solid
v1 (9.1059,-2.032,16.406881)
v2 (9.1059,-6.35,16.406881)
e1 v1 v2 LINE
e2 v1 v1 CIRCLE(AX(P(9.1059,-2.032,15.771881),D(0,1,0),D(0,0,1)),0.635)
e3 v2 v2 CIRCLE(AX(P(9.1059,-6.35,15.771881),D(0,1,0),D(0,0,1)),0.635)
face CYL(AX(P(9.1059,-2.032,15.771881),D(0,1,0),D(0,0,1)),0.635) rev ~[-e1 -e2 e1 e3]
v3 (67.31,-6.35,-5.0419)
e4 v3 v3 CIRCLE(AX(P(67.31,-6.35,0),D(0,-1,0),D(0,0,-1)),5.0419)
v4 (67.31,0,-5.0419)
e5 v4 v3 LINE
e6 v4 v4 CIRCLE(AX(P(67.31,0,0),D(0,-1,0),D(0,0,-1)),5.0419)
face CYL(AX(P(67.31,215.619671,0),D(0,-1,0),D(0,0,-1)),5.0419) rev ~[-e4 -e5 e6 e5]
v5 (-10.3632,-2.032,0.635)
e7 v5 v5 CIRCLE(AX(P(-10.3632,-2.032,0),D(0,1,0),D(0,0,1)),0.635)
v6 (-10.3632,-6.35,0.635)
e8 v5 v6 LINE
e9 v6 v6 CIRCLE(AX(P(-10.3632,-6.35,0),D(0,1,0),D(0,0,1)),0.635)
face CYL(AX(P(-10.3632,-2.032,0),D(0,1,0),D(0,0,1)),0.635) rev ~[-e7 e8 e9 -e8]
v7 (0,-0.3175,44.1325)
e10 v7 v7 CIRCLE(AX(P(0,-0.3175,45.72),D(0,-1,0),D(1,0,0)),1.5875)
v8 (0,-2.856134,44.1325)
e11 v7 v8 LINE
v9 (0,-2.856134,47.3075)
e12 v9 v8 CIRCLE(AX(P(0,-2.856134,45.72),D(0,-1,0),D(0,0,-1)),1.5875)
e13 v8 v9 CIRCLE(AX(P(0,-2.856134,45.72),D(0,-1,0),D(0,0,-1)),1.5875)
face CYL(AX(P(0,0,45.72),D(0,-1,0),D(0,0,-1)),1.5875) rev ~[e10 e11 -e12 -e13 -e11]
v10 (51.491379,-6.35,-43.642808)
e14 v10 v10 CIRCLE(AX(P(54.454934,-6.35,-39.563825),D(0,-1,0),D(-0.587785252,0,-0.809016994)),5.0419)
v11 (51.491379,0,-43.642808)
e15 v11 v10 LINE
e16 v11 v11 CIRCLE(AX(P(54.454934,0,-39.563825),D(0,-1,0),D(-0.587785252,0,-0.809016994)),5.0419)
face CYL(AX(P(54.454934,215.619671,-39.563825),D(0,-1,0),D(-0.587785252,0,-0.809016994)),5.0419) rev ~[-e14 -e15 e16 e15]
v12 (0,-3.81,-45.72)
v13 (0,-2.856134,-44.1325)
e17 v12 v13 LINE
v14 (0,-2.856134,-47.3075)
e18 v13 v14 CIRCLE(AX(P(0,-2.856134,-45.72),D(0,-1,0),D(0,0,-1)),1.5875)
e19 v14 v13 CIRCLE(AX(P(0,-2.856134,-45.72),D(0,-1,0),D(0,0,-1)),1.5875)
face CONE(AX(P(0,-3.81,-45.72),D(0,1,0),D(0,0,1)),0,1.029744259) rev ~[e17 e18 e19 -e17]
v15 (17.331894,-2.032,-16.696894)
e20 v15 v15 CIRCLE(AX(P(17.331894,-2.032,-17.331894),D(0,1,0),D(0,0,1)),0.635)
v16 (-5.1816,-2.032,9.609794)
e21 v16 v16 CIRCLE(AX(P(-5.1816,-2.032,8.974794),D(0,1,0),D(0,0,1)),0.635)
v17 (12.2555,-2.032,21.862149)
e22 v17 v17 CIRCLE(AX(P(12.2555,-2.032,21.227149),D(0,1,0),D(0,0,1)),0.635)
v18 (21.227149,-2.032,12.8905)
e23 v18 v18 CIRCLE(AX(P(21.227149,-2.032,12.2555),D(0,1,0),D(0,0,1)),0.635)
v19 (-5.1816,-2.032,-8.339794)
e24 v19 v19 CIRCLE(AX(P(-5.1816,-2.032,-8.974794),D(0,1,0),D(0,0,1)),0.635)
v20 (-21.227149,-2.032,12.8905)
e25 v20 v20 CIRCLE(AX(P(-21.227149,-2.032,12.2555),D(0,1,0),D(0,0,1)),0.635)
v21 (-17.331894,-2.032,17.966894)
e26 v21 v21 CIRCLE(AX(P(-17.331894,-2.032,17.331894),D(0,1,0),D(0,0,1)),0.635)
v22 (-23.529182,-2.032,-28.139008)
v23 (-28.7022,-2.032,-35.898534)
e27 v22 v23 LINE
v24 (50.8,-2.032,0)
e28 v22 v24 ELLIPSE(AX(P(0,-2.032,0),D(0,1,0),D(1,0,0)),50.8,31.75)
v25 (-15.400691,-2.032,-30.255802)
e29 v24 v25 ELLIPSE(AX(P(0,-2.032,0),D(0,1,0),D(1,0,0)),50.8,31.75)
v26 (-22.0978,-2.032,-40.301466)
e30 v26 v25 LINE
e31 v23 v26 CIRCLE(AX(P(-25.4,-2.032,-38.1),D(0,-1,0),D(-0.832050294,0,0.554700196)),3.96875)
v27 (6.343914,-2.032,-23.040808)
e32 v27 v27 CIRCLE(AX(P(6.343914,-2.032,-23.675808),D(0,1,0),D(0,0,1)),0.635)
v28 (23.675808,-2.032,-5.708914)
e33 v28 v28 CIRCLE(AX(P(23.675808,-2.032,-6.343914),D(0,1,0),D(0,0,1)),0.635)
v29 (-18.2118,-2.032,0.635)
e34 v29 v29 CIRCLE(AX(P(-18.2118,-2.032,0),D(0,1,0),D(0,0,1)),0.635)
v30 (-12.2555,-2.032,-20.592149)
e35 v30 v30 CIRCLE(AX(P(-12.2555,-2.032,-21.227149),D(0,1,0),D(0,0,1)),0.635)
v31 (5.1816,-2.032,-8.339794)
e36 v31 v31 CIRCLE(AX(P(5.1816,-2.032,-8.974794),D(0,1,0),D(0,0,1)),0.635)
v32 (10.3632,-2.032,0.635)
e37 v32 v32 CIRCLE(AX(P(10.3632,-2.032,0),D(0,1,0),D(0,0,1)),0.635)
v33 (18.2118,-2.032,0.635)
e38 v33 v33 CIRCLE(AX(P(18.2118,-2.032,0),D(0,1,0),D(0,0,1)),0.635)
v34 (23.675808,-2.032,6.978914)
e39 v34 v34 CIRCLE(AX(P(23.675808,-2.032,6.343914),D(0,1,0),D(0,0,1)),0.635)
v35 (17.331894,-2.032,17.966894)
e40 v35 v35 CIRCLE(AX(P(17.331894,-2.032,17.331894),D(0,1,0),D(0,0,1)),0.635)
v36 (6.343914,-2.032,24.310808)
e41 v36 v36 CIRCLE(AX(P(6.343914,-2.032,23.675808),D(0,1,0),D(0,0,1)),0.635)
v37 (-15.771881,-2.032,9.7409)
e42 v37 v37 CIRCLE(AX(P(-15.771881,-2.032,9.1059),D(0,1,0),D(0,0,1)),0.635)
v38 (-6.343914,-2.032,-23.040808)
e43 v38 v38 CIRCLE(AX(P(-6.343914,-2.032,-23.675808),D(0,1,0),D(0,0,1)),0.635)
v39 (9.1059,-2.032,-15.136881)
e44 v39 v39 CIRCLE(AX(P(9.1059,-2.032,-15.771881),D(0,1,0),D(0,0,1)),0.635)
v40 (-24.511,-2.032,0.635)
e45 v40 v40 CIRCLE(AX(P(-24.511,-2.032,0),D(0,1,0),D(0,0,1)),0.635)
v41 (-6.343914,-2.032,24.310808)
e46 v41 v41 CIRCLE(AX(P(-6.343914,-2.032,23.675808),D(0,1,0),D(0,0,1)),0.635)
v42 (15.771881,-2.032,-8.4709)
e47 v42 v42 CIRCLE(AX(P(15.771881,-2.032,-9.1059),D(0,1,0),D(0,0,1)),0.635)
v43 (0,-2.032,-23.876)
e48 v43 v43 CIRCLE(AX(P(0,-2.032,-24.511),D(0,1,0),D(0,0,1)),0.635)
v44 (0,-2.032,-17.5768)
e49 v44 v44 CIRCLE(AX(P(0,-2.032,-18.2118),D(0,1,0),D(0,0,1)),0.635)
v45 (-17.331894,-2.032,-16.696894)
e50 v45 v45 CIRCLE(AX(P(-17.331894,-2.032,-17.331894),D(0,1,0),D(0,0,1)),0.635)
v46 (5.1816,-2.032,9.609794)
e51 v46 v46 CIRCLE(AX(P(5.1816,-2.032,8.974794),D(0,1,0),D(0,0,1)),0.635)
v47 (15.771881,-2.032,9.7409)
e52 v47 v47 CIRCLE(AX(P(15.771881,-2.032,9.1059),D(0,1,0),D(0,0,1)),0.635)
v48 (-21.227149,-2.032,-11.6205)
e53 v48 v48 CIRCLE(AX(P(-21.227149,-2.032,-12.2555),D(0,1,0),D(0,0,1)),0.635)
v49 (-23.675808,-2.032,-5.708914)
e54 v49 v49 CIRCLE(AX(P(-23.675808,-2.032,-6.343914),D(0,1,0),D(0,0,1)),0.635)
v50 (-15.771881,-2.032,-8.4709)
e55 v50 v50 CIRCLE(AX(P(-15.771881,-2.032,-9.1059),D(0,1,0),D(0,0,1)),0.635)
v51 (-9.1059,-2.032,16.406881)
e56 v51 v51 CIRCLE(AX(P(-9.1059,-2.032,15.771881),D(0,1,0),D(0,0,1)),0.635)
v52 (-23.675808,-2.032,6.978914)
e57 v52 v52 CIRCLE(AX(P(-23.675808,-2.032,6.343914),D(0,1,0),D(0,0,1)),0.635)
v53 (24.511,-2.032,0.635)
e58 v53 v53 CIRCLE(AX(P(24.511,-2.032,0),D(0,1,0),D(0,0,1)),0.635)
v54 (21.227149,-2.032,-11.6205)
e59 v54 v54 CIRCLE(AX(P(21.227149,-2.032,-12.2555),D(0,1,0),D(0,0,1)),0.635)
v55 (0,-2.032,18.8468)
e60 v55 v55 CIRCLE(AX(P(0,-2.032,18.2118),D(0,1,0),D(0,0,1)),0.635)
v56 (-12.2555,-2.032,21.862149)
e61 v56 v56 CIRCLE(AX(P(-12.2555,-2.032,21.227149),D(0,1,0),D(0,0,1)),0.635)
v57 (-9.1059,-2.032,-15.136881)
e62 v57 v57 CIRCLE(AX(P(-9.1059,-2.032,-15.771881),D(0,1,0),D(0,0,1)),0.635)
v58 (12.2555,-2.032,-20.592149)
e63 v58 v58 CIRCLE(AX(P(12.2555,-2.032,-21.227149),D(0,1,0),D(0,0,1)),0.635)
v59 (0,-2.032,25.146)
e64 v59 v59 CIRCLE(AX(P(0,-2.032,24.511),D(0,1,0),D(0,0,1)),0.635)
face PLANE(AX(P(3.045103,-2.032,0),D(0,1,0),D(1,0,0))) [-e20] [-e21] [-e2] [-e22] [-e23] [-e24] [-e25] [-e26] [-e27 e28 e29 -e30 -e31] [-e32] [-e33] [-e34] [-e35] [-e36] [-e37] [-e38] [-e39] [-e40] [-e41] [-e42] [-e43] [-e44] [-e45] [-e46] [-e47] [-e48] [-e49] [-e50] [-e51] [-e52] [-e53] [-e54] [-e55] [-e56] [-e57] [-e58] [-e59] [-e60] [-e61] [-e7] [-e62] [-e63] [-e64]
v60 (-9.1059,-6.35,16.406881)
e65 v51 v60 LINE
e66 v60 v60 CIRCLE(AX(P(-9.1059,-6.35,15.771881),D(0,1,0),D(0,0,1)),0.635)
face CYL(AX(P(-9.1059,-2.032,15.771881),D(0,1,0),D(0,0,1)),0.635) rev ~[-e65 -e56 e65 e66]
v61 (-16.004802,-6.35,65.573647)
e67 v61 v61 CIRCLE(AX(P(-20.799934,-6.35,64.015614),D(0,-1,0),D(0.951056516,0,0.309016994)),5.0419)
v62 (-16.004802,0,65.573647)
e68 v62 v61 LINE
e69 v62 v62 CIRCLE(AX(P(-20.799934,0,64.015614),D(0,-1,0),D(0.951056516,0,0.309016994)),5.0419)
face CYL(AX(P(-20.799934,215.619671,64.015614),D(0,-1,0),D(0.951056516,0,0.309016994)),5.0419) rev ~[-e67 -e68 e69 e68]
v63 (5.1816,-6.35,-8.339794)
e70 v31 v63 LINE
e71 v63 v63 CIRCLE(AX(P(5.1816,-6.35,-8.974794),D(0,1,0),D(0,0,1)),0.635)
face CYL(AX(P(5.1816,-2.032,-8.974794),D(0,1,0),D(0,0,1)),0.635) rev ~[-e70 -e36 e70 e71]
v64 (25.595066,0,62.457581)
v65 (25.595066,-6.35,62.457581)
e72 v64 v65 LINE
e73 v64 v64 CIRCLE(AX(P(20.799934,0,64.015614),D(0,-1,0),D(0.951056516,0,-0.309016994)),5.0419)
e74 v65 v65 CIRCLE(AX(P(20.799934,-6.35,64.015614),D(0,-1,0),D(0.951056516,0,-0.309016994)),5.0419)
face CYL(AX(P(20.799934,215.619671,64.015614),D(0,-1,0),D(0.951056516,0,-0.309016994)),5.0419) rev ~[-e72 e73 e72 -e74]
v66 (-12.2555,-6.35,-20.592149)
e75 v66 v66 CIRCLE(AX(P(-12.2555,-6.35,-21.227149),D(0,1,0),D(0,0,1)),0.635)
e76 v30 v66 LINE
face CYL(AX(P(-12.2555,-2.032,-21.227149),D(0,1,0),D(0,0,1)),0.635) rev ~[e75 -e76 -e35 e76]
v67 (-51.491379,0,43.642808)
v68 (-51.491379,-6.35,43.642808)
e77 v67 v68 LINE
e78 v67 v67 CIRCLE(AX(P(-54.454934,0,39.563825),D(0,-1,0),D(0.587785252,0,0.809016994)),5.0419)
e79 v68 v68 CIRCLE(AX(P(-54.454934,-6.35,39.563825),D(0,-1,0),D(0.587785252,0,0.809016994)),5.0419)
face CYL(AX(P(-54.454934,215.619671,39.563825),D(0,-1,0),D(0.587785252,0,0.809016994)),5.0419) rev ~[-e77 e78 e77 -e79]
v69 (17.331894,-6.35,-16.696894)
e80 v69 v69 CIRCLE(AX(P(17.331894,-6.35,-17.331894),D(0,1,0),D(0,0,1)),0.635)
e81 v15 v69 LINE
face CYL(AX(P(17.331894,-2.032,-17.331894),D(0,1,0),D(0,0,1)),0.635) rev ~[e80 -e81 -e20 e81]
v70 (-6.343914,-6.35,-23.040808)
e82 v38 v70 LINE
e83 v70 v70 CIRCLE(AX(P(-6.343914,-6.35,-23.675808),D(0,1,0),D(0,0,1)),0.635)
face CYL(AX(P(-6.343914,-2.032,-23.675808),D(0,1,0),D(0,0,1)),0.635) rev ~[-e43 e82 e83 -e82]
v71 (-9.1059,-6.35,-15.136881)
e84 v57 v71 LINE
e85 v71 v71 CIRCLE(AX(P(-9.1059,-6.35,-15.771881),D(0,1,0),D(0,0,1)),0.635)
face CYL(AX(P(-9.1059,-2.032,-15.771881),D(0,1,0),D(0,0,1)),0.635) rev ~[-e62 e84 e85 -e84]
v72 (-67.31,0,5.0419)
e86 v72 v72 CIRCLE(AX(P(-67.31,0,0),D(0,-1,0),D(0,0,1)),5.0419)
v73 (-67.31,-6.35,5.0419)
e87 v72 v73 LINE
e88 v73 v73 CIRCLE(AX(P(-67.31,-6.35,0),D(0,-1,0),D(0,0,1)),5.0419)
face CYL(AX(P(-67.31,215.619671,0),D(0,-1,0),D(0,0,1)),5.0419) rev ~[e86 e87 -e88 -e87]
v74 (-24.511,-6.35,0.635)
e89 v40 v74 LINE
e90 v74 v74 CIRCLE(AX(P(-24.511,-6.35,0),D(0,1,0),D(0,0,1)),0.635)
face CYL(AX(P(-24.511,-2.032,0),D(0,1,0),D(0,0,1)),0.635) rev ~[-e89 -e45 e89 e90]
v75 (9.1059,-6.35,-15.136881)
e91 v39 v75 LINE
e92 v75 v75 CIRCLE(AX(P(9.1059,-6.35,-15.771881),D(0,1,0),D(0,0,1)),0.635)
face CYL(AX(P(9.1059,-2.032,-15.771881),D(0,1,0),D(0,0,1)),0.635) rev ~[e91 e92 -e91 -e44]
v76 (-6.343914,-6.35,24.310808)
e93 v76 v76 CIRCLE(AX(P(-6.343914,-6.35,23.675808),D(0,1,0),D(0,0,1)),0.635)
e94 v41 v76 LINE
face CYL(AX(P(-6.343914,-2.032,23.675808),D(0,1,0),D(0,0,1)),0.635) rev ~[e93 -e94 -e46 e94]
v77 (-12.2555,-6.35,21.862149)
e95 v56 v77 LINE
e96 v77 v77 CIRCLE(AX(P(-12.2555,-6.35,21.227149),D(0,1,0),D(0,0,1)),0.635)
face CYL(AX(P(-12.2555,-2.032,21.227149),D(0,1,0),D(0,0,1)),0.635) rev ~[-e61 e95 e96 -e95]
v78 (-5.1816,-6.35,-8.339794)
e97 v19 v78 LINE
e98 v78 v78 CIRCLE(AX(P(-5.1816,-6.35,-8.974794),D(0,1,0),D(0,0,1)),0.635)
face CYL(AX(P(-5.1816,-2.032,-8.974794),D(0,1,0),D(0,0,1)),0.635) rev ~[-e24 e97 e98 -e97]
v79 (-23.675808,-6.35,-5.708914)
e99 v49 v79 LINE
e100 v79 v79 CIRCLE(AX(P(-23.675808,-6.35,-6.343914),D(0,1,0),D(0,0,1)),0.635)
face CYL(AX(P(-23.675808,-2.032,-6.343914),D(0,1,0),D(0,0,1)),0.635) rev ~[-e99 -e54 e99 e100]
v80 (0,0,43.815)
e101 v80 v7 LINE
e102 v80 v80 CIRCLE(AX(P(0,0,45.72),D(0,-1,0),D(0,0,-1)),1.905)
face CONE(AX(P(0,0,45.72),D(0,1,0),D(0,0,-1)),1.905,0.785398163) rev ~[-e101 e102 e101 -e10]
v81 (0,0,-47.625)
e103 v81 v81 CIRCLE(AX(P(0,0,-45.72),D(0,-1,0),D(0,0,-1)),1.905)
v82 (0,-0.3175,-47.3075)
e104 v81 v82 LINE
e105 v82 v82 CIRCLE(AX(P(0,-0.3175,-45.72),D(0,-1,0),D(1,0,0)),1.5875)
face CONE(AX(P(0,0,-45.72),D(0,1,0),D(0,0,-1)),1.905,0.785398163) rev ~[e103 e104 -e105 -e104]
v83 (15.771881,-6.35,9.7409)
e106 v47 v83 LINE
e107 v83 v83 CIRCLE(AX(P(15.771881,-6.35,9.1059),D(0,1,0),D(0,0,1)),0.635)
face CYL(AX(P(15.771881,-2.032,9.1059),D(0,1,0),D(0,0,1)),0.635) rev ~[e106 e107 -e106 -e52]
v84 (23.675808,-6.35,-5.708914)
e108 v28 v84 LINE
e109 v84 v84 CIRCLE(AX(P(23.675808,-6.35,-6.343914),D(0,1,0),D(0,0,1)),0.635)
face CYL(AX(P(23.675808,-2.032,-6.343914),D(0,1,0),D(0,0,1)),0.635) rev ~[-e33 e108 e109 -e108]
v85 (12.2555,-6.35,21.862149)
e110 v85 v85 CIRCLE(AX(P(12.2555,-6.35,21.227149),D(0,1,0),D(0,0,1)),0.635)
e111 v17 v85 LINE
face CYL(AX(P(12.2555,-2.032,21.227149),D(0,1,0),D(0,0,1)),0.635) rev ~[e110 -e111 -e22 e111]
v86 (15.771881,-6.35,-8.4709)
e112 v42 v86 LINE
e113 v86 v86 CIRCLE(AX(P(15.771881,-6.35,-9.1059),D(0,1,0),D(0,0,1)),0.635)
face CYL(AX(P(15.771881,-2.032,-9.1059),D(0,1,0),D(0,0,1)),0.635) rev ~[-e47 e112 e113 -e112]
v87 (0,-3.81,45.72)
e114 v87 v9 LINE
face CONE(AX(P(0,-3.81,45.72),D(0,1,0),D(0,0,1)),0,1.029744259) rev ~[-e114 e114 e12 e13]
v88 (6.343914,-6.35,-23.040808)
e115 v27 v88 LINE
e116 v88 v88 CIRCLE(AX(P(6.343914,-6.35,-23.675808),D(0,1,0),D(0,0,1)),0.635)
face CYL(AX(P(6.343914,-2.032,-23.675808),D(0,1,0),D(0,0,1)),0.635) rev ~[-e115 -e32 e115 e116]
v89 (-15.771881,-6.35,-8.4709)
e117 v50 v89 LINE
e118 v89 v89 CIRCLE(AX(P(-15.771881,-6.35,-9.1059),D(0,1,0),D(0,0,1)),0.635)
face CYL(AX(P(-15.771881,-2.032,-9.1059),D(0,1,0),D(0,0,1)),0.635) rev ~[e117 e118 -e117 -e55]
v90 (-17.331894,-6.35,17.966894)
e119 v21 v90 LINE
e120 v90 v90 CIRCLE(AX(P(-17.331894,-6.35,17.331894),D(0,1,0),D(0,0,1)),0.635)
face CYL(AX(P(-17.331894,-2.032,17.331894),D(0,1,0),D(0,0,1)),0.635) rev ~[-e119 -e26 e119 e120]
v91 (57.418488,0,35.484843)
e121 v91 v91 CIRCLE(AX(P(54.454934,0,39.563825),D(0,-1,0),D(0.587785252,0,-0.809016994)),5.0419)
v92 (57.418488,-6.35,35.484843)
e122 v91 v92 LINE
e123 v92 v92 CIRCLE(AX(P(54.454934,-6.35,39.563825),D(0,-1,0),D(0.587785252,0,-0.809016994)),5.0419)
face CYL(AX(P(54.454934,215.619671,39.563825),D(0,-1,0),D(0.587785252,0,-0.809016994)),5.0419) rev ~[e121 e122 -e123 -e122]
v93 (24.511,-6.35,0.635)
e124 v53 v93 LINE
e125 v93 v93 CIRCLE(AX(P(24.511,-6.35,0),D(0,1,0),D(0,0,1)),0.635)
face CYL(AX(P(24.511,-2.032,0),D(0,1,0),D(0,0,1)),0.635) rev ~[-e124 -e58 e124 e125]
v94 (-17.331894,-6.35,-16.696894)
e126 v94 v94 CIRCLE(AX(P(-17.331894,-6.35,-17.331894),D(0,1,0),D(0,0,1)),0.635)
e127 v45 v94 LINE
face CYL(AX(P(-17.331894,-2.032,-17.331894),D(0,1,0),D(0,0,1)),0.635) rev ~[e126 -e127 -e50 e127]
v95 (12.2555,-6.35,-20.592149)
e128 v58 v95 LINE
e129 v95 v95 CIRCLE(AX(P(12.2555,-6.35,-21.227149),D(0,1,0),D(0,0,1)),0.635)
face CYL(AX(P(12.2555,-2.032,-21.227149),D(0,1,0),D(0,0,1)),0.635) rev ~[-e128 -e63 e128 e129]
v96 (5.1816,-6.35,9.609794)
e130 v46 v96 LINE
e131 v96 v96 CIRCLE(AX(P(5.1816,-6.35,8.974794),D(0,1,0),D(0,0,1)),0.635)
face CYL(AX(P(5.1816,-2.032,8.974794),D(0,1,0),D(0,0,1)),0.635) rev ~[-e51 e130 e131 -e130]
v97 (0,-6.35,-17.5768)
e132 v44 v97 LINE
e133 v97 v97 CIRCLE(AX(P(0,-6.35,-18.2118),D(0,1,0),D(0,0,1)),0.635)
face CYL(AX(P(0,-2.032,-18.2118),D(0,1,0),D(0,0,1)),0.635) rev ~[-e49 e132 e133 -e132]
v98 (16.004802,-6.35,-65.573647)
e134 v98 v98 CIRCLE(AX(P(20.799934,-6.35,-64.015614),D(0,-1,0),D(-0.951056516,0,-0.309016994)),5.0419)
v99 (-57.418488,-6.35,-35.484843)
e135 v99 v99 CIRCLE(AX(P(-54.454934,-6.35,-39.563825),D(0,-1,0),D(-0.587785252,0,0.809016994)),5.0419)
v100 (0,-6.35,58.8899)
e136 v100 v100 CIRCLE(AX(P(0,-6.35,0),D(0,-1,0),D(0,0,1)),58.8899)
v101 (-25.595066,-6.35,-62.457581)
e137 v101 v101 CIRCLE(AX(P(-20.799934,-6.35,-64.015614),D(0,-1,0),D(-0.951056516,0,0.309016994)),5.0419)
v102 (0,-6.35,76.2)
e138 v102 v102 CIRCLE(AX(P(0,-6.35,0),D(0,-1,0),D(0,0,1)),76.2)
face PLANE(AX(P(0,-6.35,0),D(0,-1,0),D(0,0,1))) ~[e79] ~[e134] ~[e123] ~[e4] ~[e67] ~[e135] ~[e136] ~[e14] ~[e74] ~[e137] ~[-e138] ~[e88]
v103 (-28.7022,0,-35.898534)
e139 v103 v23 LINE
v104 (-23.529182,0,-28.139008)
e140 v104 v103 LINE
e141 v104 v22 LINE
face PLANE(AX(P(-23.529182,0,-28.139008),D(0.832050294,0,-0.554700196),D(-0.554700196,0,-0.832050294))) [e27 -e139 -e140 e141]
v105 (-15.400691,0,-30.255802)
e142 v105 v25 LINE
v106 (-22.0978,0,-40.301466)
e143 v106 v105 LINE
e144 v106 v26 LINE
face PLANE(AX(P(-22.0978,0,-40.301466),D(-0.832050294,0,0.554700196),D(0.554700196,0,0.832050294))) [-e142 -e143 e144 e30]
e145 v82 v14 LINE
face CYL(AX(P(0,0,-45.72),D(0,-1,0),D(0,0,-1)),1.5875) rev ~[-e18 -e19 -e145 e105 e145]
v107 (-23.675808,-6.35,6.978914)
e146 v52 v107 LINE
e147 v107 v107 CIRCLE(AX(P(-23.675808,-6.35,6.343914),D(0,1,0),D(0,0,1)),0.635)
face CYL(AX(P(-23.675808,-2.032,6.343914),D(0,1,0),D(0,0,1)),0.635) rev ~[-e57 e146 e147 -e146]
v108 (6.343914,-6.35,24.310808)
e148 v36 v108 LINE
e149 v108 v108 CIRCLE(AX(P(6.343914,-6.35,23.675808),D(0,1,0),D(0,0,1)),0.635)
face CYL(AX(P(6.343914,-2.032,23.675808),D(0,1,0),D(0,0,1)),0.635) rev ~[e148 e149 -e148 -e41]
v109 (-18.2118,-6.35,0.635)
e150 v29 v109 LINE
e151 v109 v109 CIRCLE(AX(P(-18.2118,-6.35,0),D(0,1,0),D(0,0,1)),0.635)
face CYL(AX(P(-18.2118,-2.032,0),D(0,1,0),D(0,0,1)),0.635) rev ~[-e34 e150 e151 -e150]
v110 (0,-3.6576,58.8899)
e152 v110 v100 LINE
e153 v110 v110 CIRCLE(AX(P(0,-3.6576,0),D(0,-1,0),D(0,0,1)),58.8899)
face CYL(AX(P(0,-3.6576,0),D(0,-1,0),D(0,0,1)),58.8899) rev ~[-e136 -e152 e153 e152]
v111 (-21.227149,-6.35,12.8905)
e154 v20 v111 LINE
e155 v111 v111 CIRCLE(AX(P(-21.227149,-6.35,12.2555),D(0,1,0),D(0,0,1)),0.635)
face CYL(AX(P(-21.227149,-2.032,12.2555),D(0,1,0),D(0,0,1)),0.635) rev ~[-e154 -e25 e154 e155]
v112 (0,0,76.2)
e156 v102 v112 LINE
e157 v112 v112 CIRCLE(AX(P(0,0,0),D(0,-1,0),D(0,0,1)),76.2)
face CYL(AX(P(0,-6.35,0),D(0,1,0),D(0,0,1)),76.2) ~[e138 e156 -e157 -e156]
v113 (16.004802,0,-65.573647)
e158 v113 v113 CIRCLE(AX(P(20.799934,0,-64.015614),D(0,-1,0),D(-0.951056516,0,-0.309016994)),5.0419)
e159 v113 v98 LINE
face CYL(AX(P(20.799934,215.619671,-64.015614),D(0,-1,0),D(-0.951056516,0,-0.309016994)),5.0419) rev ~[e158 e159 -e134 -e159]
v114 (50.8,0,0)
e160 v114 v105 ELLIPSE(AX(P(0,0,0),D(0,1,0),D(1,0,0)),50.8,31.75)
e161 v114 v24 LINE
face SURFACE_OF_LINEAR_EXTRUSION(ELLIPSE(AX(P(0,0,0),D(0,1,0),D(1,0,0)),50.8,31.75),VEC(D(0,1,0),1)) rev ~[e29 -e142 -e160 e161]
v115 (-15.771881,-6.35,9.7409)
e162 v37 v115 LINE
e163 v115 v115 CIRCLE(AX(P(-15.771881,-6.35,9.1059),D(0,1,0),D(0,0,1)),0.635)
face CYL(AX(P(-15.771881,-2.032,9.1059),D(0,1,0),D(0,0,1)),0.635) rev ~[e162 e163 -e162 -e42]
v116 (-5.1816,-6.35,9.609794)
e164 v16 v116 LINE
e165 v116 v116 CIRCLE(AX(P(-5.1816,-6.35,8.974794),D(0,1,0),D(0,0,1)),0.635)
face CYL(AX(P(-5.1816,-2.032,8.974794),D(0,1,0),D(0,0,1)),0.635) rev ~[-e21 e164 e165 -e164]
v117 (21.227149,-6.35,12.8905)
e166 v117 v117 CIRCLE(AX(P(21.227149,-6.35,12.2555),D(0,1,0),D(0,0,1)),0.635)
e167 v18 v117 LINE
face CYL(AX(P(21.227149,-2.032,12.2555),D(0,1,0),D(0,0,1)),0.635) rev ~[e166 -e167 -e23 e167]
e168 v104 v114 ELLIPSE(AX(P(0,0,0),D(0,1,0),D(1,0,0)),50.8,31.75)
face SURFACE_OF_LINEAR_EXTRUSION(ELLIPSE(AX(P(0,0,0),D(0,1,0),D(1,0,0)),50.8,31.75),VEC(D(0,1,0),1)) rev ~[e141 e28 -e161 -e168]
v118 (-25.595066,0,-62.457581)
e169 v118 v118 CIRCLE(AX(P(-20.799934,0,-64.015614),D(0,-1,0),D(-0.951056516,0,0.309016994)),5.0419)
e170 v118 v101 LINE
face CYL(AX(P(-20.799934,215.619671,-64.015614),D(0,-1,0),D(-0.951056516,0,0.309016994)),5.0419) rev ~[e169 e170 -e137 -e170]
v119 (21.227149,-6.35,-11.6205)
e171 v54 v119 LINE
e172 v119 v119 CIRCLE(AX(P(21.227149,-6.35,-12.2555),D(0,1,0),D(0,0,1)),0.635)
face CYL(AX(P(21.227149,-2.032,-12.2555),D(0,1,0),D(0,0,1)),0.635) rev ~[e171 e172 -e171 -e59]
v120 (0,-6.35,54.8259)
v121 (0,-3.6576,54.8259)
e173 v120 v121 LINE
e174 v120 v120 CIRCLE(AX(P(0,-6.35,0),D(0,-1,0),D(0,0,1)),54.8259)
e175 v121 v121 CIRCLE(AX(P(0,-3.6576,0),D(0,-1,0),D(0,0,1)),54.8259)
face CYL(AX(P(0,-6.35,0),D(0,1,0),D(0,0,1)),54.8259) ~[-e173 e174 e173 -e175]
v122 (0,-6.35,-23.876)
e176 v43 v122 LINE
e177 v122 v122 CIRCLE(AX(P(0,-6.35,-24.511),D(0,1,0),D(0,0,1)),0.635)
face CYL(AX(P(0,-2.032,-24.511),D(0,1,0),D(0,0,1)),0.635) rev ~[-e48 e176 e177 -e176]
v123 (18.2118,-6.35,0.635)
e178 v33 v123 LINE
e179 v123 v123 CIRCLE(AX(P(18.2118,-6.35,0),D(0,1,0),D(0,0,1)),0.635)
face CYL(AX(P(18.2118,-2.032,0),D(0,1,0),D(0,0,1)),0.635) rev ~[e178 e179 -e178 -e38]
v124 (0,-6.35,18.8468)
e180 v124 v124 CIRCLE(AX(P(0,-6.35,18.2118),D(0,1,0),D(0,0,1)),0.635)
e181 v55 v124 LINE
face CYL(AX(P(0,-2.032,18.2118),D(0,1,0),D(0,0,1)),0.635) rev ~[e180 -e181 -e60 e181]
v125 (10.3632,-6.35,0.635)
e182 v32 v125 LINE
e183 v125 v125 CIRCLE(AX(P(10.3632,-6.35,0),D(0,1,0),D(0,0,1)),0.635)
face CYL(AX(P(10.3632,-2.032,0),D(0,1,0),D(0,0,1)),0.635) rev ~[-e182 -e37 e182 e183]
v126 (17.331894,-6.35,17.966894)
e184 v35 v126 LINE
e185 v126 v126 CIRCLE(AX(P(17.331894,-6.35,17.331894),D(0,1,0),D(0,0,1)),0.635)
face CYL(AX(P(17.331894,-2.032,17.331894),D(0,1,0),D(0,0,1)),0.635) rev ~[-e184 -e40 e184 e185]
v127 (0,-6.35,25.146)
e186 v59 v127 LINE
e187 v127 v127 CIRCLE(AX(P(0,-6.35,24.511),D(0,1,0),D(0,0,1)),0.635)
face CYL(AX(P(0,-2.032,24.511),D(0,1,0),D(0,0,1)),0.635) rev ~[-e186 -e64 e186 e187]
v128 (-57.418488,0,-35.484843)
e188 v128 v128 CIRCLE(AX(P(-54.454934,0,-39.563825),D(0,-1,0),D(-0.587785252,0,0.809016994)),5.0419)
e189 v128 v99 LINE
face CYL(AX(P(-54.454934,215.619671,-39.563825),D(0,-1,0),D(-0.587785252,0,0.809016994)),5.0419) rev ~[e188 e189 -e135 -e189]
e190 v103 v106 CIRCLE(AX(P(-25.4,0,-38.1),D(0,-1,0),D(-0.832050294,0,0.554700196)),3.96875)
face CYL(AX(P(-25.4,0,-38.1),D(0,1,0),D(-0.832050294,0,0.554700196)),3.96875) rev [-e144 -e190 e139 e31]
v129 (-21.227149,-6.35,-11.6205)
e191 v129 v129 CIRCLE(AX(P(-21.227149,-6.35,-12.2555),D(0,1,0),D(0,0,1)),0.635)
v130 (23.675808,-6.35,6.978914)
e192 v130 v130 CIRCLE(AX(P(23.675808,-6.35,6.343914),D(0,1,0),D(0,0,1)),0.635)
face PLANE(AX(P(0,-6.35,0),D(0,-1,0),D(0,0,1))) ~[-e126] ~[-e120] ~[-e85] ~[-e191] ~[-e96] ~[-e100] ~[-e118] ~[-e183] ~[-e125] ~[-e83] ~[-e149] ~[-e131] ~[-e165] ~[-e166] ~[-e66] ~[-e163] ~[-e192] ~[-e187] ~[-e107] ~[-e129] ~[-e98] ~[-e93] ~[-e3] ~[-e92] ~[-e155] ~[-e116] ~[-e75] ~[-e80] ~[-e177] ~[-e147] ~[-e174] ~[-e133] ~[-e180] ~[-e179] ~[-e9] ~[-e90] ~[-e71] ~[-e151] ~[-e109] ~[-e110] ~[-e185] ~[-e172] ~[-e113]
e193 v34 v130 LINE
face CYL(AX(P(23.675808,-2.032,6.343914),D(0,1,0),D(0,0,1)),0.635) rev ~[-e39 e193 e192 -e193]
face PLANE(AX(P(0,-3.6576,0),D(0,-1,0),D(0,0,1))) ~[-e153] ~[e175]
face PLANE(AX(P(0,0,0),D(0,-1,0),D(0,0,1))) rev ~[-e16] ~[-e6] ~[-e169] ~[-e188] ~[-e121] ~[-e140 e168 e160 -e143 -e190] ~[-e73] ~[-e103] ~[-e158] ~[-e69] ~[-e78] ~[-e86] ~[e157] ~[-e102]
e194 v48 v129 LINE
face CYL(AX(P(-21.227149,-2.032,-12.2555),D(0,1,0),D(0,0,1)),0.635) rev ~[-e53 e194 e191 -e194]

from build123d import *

# Parameters (mm, degrees)
F_3_8_CLEARANCE_HOLE1_D                = 10.0838
CIRPATTERN1_COUNT                      = 10
SKETCH5_RX                             = 50.8
SKETCH5_RY                             = 31.75
CUT_EXTRUDE1_DEPTH                     = 2.032
SKETCH6_R                              = 0.635
CUT_EXTRUDE2_DEPTH                     = 108.849548557
F_1_8_0_125_DIAMETER_HOLE1_D           = 3.175
F_1_8_0_125_DIAMETER_HOLE1_DEPTH       = 2.856133767
F_1_8_0_125_DIAMETER_HOLE1_CSINK_D     = 3.81
F_1_8_0_125_DIAMETER_HOLE1_CSINK_ANGLE = 90
F_1_8_0_125_DIAMETER_HOLE1_TIP         = 0.953866233


with BuildPart() as part:
    # Sketch1 → Revolve1 (revolve)
    with BuildSketch(Plane.XY, mode=Mode.PRIVATE) as revolve1_sk:
        Polygon((0, -6.35), (54.8259, -6.35), (54.8259, -3.6576), (58.8899, -3.6576), (58.8899, -6.35), (76.2, -6.35), (76.2, 0), (0, 0), align=None)
    revolve(revolve1_sk.sketch.rotate(Axis((0, 0, 0), (0, -1, 0)), 90), axis=Axis((0, 0, 0), (0, -1, 0)))

    # 3/8 Clearance Hole1 (through all)
    with Locations(Plane(origin=(67.31, 0, 0), x_dir=(0, 0, 1), z_dir=(0, 1, 0))):
        with Locations((0, 0)):
            f_3_8_clearance_hole1 = Hole(F_3_8_CLEARANCE_HOLE1_D / 2)

    # CirPattern1: 3/8 Clearance Hole1 ×10 about axis
    cirpattern1_axis = Axis((0, 0, 0), (0, 1, 0))
    for i in range(1, CIRPATTERN1_COUNT):
        add(f_3_8_clearance_hole1.rotate(cirpattern1_axis, i * 360 / CIRPATTERN1_COUNT), mode=Mode.SUBTRACT)

    # Sketch5 → Cut-Extrude1 (cut)
    with BuildSketch(Plane(origin=(0, 0, 0), x_dir=(1, 0, 0), z_dir=(0, 1, 0))):
        with Locations((0, 0)):
            Ellipse(SKETCH5_RX, SKETCH5_RY)
        with BuildLine():
            Line((-3.302199606, -2.201466404), (-28.702199606, 35.898533596))
            ThreePointArc((-28.702199606, 35.898533596), (-27.601466404, 41.402199606), (-22.097800394, 40.301466404))
            Line((-22.097800394, 40.301466404), (3.302199606, 2.201466404))
            ThreePointArc((3.302199606, 2.201466404), (2.201466404, -3.302199606), (-3.302199606, -2.201466404))
        make_face()
    extrude(amount=-CUT_EXTRUDE1_DEPTH, mode=Mode.SUBTRACT)

    # Sketch6 → Cut-Extrude2 (cut, through all)
    with BuildSketch(Plane(origin=(0, -2.032, 0), x_dir=(1, 0, 0), z_dir=(0, 1, 0))):
        with Locations(Location((-5.1816, -8.974794464, 0), (0, 0, 270))):
            Circle(SKETCH6_R)
        with Locations(Location((5.1816, -8.974794464, 0), (0, 0, 270))):
            Circle(SKETCH6_R)
        with Locations(Location((24.511, 0, 0), (0, 0, 270))):
            Circle(SKETCH6_R)
        with Locations(Location((18.2118, 0, 0), (0, 0, 270))):
            Circle(SKETCH6_R)
        with Locations(Location((10.3632, 0, 0), (0, 0, 270))):
            Circle(SKETCH6_R)
        with Locations(Location((0, -18.2118, 0), (0, 0, 270))):
            Circle(SKETCH6_R)
        with Locations(Location((9.1059, -15.771881449, 0), (0, 0, 270))):
            Circle(SKETCH6_R)
        with Locations(Location((15.771881449, -9.1059, 0), (0, 0, 270))):
            Circle(SKETCH6_R)
        with Locations(Location((5.1816, 8.974794464, 0), (0, 0, 270))):
            Circle(SKETCH6_R)
        with Locations(Location((-5.1816, 8.974794464, 0), (0, 0, 270))):
            Circle(SKETCH6_R)
        with Locations(Location((-10.3632, 0, 0), (0, 0, 270))):
            Circle(SKETCH6_R)
        with Locations(Location((15.771881449, 9.1059, 0), (0, 0, 270))):
            Circle(SKETCH6_R)
        with Locations(Location((9.1059, 15.771881449, 0), (0, 0, 270))):
            Circle(SKETCH6_R)
        with Locations(Location((0, 18.2118, 0), (0, 0, 270))):
            Circle(SKETCH6_R)
        with Locations(Location((-9.1059, 15.771881449, 0), (0, 0, 270))):
            Circle(SKETCH6_R)
        with Locations(Location((-15.771881449, 9.1059, 0), (0, 0, 270))):
            Circle(SKETCH6_R)
        with Locations(Location((-18.2118, 0, 0), (0, 0, 270))):
            Circle(SKETCH6_R)
        with Locations(Location((-15.771881449, -9.1059, 0), (0, 0, 270))):
            Circle(SKETCH6_R)
        with Locations(Location((-9.1059, -15.771881449, 0), (0, 0, 270))):
            Circle(SKETCH6_R)
        with Locations(Location((-6.343913615, -23.675807928, 0), (0, 0, 270))):
            Circle(SKETCH6_R)
        with Locations(Location((0, -24.511, 0), (0, 0, 270))):
            Circle(SKETCH6_R)
        with Locations(Location((6.343913615, -23.675807928, 0), (0, 0, 270))):
            Circle(SKETCH6_R)
        with Locations(Location((12.2555, -21.227148672, 0), (0, 0, 270))):
            Circle(SKETCH6_R)
        with Locations(Location((17.331894314, -17.331894314, 0), (0, 0, 270))):
            Circle(SKETCH6_R)
        with Locations(Location((21.227148672, -12.2555, 0), (0, 0, 270))):
            Circle(SKETCH6_R)
        with Locations(Location((23.675807928, -6.343913615, 0), (0, 0, 270))):
            Circle(SKETCH6_R)
        with Locations(Location((-17.331894314, 17.331894314, 0), (0, 0, 270))):
            Circle(SKETCH6_R)
        with Locations(Location((-21.227148672, 12.2555, 0), (0, 0, 270))):
            Circle(SKETCH6_R)
        with Locations(Location((-23.675807928, 6.343913615, 0), (0, 0, 270))):
            Circle(SKETCH6_R)
        with Locations(Location((-24.511, 0, 0), (0, 0, 270))):
            Circle(SKETCH6_R)
        with Locations(Location((-23.675807928, -6.343913615, 0), (0, 0, 270))):
            Circle(SKETCH6_R)
        with Locations(Location((-21.227148672, -12.2555, 0), (0, 0, 270))):
            Circle(SKETCH6_R)
        with Locations(Location((-17.331894314, -17.331894314, 0), (0, 0, 270))):
            Circle(SKETCH6_R)
        with Locations(Location((-12.2555, -21.227148672, 0), (0, 0, 270))):
            Circle(SKETCH6_R)
        with Locations(Location((23.675807928, 6.343913615, 0), (0, 0, 270))):
            Circle(SKETCH6_R)
        with Locations(Location((21.227148672, 12.2555, 0), (0, 0, 270))):
            Circle(SKETCH6_R)
        with Locations(Location((17.331894314, 17.331894314, 0), (0, 0, 270))):
            Circle(SKETCH6_R)
        with Locations(Location((12.2555, 21.227148672, 0), (0, 0, 270))):
            Circle(SKETCH6_R)
        with Locations(Location((6.343913615, 23.675807928, 0), (0, 0, 270))):
            Circle(SKETCH6_R)
        with Locations(Location((0, 24.511, 0), (0, 0, 270))):
            Circle(SKETCH6_R)
        with Locations(Location((-6.343913615, 23.675807928, 0), (0, 0, 270))):
            Circle(SKETCH6_R)
        with Locations(Location((-12.2555, 21.227148672, 0), (0, 0, 270))):
            Circle(SKETCH6_R)
    extrude(amount=-CUT_EXTRUDE2_DEPTH, mode=Mode.SUBTRACT)

    # 1/8 (0.125) Diameter Hole1
    with Locations(Plane(origin=(0, 0, -45.72), x_dir=(0, 0, 1), z_dir=(0, 1, 0))):
        with Locations((0, 0), (91.44, 0)):
            CounterSinkHole(F_1_8_0_125_DIAMETER_HOLE1_D / 2, F_1_8_0_125_DIAMETER_HOLE1_CSINK_D / 2, depth=F_1_8_0_125_DIAMETER_HOLE1_DEPTH, counter_sink_angle=F_1_8_0_125_DIAMETER_HOLE1_CSINK_ANGLE)
            with Locations((0, 0, -(F_1_8_0_125_DIAMETER_HOLE1_DEPTH + F_1_8_0_125_DIAMETER_HOLE1_TIP / 2))):  # 118° drill point
                Cone(0, F_1_8_0_125_DIAMETER_HOLE1_D / 2, F_1_8_0_125_DIAMETER_HOLE1_TIP, mode=Mode.SUBTRACT)


solid = part.part
